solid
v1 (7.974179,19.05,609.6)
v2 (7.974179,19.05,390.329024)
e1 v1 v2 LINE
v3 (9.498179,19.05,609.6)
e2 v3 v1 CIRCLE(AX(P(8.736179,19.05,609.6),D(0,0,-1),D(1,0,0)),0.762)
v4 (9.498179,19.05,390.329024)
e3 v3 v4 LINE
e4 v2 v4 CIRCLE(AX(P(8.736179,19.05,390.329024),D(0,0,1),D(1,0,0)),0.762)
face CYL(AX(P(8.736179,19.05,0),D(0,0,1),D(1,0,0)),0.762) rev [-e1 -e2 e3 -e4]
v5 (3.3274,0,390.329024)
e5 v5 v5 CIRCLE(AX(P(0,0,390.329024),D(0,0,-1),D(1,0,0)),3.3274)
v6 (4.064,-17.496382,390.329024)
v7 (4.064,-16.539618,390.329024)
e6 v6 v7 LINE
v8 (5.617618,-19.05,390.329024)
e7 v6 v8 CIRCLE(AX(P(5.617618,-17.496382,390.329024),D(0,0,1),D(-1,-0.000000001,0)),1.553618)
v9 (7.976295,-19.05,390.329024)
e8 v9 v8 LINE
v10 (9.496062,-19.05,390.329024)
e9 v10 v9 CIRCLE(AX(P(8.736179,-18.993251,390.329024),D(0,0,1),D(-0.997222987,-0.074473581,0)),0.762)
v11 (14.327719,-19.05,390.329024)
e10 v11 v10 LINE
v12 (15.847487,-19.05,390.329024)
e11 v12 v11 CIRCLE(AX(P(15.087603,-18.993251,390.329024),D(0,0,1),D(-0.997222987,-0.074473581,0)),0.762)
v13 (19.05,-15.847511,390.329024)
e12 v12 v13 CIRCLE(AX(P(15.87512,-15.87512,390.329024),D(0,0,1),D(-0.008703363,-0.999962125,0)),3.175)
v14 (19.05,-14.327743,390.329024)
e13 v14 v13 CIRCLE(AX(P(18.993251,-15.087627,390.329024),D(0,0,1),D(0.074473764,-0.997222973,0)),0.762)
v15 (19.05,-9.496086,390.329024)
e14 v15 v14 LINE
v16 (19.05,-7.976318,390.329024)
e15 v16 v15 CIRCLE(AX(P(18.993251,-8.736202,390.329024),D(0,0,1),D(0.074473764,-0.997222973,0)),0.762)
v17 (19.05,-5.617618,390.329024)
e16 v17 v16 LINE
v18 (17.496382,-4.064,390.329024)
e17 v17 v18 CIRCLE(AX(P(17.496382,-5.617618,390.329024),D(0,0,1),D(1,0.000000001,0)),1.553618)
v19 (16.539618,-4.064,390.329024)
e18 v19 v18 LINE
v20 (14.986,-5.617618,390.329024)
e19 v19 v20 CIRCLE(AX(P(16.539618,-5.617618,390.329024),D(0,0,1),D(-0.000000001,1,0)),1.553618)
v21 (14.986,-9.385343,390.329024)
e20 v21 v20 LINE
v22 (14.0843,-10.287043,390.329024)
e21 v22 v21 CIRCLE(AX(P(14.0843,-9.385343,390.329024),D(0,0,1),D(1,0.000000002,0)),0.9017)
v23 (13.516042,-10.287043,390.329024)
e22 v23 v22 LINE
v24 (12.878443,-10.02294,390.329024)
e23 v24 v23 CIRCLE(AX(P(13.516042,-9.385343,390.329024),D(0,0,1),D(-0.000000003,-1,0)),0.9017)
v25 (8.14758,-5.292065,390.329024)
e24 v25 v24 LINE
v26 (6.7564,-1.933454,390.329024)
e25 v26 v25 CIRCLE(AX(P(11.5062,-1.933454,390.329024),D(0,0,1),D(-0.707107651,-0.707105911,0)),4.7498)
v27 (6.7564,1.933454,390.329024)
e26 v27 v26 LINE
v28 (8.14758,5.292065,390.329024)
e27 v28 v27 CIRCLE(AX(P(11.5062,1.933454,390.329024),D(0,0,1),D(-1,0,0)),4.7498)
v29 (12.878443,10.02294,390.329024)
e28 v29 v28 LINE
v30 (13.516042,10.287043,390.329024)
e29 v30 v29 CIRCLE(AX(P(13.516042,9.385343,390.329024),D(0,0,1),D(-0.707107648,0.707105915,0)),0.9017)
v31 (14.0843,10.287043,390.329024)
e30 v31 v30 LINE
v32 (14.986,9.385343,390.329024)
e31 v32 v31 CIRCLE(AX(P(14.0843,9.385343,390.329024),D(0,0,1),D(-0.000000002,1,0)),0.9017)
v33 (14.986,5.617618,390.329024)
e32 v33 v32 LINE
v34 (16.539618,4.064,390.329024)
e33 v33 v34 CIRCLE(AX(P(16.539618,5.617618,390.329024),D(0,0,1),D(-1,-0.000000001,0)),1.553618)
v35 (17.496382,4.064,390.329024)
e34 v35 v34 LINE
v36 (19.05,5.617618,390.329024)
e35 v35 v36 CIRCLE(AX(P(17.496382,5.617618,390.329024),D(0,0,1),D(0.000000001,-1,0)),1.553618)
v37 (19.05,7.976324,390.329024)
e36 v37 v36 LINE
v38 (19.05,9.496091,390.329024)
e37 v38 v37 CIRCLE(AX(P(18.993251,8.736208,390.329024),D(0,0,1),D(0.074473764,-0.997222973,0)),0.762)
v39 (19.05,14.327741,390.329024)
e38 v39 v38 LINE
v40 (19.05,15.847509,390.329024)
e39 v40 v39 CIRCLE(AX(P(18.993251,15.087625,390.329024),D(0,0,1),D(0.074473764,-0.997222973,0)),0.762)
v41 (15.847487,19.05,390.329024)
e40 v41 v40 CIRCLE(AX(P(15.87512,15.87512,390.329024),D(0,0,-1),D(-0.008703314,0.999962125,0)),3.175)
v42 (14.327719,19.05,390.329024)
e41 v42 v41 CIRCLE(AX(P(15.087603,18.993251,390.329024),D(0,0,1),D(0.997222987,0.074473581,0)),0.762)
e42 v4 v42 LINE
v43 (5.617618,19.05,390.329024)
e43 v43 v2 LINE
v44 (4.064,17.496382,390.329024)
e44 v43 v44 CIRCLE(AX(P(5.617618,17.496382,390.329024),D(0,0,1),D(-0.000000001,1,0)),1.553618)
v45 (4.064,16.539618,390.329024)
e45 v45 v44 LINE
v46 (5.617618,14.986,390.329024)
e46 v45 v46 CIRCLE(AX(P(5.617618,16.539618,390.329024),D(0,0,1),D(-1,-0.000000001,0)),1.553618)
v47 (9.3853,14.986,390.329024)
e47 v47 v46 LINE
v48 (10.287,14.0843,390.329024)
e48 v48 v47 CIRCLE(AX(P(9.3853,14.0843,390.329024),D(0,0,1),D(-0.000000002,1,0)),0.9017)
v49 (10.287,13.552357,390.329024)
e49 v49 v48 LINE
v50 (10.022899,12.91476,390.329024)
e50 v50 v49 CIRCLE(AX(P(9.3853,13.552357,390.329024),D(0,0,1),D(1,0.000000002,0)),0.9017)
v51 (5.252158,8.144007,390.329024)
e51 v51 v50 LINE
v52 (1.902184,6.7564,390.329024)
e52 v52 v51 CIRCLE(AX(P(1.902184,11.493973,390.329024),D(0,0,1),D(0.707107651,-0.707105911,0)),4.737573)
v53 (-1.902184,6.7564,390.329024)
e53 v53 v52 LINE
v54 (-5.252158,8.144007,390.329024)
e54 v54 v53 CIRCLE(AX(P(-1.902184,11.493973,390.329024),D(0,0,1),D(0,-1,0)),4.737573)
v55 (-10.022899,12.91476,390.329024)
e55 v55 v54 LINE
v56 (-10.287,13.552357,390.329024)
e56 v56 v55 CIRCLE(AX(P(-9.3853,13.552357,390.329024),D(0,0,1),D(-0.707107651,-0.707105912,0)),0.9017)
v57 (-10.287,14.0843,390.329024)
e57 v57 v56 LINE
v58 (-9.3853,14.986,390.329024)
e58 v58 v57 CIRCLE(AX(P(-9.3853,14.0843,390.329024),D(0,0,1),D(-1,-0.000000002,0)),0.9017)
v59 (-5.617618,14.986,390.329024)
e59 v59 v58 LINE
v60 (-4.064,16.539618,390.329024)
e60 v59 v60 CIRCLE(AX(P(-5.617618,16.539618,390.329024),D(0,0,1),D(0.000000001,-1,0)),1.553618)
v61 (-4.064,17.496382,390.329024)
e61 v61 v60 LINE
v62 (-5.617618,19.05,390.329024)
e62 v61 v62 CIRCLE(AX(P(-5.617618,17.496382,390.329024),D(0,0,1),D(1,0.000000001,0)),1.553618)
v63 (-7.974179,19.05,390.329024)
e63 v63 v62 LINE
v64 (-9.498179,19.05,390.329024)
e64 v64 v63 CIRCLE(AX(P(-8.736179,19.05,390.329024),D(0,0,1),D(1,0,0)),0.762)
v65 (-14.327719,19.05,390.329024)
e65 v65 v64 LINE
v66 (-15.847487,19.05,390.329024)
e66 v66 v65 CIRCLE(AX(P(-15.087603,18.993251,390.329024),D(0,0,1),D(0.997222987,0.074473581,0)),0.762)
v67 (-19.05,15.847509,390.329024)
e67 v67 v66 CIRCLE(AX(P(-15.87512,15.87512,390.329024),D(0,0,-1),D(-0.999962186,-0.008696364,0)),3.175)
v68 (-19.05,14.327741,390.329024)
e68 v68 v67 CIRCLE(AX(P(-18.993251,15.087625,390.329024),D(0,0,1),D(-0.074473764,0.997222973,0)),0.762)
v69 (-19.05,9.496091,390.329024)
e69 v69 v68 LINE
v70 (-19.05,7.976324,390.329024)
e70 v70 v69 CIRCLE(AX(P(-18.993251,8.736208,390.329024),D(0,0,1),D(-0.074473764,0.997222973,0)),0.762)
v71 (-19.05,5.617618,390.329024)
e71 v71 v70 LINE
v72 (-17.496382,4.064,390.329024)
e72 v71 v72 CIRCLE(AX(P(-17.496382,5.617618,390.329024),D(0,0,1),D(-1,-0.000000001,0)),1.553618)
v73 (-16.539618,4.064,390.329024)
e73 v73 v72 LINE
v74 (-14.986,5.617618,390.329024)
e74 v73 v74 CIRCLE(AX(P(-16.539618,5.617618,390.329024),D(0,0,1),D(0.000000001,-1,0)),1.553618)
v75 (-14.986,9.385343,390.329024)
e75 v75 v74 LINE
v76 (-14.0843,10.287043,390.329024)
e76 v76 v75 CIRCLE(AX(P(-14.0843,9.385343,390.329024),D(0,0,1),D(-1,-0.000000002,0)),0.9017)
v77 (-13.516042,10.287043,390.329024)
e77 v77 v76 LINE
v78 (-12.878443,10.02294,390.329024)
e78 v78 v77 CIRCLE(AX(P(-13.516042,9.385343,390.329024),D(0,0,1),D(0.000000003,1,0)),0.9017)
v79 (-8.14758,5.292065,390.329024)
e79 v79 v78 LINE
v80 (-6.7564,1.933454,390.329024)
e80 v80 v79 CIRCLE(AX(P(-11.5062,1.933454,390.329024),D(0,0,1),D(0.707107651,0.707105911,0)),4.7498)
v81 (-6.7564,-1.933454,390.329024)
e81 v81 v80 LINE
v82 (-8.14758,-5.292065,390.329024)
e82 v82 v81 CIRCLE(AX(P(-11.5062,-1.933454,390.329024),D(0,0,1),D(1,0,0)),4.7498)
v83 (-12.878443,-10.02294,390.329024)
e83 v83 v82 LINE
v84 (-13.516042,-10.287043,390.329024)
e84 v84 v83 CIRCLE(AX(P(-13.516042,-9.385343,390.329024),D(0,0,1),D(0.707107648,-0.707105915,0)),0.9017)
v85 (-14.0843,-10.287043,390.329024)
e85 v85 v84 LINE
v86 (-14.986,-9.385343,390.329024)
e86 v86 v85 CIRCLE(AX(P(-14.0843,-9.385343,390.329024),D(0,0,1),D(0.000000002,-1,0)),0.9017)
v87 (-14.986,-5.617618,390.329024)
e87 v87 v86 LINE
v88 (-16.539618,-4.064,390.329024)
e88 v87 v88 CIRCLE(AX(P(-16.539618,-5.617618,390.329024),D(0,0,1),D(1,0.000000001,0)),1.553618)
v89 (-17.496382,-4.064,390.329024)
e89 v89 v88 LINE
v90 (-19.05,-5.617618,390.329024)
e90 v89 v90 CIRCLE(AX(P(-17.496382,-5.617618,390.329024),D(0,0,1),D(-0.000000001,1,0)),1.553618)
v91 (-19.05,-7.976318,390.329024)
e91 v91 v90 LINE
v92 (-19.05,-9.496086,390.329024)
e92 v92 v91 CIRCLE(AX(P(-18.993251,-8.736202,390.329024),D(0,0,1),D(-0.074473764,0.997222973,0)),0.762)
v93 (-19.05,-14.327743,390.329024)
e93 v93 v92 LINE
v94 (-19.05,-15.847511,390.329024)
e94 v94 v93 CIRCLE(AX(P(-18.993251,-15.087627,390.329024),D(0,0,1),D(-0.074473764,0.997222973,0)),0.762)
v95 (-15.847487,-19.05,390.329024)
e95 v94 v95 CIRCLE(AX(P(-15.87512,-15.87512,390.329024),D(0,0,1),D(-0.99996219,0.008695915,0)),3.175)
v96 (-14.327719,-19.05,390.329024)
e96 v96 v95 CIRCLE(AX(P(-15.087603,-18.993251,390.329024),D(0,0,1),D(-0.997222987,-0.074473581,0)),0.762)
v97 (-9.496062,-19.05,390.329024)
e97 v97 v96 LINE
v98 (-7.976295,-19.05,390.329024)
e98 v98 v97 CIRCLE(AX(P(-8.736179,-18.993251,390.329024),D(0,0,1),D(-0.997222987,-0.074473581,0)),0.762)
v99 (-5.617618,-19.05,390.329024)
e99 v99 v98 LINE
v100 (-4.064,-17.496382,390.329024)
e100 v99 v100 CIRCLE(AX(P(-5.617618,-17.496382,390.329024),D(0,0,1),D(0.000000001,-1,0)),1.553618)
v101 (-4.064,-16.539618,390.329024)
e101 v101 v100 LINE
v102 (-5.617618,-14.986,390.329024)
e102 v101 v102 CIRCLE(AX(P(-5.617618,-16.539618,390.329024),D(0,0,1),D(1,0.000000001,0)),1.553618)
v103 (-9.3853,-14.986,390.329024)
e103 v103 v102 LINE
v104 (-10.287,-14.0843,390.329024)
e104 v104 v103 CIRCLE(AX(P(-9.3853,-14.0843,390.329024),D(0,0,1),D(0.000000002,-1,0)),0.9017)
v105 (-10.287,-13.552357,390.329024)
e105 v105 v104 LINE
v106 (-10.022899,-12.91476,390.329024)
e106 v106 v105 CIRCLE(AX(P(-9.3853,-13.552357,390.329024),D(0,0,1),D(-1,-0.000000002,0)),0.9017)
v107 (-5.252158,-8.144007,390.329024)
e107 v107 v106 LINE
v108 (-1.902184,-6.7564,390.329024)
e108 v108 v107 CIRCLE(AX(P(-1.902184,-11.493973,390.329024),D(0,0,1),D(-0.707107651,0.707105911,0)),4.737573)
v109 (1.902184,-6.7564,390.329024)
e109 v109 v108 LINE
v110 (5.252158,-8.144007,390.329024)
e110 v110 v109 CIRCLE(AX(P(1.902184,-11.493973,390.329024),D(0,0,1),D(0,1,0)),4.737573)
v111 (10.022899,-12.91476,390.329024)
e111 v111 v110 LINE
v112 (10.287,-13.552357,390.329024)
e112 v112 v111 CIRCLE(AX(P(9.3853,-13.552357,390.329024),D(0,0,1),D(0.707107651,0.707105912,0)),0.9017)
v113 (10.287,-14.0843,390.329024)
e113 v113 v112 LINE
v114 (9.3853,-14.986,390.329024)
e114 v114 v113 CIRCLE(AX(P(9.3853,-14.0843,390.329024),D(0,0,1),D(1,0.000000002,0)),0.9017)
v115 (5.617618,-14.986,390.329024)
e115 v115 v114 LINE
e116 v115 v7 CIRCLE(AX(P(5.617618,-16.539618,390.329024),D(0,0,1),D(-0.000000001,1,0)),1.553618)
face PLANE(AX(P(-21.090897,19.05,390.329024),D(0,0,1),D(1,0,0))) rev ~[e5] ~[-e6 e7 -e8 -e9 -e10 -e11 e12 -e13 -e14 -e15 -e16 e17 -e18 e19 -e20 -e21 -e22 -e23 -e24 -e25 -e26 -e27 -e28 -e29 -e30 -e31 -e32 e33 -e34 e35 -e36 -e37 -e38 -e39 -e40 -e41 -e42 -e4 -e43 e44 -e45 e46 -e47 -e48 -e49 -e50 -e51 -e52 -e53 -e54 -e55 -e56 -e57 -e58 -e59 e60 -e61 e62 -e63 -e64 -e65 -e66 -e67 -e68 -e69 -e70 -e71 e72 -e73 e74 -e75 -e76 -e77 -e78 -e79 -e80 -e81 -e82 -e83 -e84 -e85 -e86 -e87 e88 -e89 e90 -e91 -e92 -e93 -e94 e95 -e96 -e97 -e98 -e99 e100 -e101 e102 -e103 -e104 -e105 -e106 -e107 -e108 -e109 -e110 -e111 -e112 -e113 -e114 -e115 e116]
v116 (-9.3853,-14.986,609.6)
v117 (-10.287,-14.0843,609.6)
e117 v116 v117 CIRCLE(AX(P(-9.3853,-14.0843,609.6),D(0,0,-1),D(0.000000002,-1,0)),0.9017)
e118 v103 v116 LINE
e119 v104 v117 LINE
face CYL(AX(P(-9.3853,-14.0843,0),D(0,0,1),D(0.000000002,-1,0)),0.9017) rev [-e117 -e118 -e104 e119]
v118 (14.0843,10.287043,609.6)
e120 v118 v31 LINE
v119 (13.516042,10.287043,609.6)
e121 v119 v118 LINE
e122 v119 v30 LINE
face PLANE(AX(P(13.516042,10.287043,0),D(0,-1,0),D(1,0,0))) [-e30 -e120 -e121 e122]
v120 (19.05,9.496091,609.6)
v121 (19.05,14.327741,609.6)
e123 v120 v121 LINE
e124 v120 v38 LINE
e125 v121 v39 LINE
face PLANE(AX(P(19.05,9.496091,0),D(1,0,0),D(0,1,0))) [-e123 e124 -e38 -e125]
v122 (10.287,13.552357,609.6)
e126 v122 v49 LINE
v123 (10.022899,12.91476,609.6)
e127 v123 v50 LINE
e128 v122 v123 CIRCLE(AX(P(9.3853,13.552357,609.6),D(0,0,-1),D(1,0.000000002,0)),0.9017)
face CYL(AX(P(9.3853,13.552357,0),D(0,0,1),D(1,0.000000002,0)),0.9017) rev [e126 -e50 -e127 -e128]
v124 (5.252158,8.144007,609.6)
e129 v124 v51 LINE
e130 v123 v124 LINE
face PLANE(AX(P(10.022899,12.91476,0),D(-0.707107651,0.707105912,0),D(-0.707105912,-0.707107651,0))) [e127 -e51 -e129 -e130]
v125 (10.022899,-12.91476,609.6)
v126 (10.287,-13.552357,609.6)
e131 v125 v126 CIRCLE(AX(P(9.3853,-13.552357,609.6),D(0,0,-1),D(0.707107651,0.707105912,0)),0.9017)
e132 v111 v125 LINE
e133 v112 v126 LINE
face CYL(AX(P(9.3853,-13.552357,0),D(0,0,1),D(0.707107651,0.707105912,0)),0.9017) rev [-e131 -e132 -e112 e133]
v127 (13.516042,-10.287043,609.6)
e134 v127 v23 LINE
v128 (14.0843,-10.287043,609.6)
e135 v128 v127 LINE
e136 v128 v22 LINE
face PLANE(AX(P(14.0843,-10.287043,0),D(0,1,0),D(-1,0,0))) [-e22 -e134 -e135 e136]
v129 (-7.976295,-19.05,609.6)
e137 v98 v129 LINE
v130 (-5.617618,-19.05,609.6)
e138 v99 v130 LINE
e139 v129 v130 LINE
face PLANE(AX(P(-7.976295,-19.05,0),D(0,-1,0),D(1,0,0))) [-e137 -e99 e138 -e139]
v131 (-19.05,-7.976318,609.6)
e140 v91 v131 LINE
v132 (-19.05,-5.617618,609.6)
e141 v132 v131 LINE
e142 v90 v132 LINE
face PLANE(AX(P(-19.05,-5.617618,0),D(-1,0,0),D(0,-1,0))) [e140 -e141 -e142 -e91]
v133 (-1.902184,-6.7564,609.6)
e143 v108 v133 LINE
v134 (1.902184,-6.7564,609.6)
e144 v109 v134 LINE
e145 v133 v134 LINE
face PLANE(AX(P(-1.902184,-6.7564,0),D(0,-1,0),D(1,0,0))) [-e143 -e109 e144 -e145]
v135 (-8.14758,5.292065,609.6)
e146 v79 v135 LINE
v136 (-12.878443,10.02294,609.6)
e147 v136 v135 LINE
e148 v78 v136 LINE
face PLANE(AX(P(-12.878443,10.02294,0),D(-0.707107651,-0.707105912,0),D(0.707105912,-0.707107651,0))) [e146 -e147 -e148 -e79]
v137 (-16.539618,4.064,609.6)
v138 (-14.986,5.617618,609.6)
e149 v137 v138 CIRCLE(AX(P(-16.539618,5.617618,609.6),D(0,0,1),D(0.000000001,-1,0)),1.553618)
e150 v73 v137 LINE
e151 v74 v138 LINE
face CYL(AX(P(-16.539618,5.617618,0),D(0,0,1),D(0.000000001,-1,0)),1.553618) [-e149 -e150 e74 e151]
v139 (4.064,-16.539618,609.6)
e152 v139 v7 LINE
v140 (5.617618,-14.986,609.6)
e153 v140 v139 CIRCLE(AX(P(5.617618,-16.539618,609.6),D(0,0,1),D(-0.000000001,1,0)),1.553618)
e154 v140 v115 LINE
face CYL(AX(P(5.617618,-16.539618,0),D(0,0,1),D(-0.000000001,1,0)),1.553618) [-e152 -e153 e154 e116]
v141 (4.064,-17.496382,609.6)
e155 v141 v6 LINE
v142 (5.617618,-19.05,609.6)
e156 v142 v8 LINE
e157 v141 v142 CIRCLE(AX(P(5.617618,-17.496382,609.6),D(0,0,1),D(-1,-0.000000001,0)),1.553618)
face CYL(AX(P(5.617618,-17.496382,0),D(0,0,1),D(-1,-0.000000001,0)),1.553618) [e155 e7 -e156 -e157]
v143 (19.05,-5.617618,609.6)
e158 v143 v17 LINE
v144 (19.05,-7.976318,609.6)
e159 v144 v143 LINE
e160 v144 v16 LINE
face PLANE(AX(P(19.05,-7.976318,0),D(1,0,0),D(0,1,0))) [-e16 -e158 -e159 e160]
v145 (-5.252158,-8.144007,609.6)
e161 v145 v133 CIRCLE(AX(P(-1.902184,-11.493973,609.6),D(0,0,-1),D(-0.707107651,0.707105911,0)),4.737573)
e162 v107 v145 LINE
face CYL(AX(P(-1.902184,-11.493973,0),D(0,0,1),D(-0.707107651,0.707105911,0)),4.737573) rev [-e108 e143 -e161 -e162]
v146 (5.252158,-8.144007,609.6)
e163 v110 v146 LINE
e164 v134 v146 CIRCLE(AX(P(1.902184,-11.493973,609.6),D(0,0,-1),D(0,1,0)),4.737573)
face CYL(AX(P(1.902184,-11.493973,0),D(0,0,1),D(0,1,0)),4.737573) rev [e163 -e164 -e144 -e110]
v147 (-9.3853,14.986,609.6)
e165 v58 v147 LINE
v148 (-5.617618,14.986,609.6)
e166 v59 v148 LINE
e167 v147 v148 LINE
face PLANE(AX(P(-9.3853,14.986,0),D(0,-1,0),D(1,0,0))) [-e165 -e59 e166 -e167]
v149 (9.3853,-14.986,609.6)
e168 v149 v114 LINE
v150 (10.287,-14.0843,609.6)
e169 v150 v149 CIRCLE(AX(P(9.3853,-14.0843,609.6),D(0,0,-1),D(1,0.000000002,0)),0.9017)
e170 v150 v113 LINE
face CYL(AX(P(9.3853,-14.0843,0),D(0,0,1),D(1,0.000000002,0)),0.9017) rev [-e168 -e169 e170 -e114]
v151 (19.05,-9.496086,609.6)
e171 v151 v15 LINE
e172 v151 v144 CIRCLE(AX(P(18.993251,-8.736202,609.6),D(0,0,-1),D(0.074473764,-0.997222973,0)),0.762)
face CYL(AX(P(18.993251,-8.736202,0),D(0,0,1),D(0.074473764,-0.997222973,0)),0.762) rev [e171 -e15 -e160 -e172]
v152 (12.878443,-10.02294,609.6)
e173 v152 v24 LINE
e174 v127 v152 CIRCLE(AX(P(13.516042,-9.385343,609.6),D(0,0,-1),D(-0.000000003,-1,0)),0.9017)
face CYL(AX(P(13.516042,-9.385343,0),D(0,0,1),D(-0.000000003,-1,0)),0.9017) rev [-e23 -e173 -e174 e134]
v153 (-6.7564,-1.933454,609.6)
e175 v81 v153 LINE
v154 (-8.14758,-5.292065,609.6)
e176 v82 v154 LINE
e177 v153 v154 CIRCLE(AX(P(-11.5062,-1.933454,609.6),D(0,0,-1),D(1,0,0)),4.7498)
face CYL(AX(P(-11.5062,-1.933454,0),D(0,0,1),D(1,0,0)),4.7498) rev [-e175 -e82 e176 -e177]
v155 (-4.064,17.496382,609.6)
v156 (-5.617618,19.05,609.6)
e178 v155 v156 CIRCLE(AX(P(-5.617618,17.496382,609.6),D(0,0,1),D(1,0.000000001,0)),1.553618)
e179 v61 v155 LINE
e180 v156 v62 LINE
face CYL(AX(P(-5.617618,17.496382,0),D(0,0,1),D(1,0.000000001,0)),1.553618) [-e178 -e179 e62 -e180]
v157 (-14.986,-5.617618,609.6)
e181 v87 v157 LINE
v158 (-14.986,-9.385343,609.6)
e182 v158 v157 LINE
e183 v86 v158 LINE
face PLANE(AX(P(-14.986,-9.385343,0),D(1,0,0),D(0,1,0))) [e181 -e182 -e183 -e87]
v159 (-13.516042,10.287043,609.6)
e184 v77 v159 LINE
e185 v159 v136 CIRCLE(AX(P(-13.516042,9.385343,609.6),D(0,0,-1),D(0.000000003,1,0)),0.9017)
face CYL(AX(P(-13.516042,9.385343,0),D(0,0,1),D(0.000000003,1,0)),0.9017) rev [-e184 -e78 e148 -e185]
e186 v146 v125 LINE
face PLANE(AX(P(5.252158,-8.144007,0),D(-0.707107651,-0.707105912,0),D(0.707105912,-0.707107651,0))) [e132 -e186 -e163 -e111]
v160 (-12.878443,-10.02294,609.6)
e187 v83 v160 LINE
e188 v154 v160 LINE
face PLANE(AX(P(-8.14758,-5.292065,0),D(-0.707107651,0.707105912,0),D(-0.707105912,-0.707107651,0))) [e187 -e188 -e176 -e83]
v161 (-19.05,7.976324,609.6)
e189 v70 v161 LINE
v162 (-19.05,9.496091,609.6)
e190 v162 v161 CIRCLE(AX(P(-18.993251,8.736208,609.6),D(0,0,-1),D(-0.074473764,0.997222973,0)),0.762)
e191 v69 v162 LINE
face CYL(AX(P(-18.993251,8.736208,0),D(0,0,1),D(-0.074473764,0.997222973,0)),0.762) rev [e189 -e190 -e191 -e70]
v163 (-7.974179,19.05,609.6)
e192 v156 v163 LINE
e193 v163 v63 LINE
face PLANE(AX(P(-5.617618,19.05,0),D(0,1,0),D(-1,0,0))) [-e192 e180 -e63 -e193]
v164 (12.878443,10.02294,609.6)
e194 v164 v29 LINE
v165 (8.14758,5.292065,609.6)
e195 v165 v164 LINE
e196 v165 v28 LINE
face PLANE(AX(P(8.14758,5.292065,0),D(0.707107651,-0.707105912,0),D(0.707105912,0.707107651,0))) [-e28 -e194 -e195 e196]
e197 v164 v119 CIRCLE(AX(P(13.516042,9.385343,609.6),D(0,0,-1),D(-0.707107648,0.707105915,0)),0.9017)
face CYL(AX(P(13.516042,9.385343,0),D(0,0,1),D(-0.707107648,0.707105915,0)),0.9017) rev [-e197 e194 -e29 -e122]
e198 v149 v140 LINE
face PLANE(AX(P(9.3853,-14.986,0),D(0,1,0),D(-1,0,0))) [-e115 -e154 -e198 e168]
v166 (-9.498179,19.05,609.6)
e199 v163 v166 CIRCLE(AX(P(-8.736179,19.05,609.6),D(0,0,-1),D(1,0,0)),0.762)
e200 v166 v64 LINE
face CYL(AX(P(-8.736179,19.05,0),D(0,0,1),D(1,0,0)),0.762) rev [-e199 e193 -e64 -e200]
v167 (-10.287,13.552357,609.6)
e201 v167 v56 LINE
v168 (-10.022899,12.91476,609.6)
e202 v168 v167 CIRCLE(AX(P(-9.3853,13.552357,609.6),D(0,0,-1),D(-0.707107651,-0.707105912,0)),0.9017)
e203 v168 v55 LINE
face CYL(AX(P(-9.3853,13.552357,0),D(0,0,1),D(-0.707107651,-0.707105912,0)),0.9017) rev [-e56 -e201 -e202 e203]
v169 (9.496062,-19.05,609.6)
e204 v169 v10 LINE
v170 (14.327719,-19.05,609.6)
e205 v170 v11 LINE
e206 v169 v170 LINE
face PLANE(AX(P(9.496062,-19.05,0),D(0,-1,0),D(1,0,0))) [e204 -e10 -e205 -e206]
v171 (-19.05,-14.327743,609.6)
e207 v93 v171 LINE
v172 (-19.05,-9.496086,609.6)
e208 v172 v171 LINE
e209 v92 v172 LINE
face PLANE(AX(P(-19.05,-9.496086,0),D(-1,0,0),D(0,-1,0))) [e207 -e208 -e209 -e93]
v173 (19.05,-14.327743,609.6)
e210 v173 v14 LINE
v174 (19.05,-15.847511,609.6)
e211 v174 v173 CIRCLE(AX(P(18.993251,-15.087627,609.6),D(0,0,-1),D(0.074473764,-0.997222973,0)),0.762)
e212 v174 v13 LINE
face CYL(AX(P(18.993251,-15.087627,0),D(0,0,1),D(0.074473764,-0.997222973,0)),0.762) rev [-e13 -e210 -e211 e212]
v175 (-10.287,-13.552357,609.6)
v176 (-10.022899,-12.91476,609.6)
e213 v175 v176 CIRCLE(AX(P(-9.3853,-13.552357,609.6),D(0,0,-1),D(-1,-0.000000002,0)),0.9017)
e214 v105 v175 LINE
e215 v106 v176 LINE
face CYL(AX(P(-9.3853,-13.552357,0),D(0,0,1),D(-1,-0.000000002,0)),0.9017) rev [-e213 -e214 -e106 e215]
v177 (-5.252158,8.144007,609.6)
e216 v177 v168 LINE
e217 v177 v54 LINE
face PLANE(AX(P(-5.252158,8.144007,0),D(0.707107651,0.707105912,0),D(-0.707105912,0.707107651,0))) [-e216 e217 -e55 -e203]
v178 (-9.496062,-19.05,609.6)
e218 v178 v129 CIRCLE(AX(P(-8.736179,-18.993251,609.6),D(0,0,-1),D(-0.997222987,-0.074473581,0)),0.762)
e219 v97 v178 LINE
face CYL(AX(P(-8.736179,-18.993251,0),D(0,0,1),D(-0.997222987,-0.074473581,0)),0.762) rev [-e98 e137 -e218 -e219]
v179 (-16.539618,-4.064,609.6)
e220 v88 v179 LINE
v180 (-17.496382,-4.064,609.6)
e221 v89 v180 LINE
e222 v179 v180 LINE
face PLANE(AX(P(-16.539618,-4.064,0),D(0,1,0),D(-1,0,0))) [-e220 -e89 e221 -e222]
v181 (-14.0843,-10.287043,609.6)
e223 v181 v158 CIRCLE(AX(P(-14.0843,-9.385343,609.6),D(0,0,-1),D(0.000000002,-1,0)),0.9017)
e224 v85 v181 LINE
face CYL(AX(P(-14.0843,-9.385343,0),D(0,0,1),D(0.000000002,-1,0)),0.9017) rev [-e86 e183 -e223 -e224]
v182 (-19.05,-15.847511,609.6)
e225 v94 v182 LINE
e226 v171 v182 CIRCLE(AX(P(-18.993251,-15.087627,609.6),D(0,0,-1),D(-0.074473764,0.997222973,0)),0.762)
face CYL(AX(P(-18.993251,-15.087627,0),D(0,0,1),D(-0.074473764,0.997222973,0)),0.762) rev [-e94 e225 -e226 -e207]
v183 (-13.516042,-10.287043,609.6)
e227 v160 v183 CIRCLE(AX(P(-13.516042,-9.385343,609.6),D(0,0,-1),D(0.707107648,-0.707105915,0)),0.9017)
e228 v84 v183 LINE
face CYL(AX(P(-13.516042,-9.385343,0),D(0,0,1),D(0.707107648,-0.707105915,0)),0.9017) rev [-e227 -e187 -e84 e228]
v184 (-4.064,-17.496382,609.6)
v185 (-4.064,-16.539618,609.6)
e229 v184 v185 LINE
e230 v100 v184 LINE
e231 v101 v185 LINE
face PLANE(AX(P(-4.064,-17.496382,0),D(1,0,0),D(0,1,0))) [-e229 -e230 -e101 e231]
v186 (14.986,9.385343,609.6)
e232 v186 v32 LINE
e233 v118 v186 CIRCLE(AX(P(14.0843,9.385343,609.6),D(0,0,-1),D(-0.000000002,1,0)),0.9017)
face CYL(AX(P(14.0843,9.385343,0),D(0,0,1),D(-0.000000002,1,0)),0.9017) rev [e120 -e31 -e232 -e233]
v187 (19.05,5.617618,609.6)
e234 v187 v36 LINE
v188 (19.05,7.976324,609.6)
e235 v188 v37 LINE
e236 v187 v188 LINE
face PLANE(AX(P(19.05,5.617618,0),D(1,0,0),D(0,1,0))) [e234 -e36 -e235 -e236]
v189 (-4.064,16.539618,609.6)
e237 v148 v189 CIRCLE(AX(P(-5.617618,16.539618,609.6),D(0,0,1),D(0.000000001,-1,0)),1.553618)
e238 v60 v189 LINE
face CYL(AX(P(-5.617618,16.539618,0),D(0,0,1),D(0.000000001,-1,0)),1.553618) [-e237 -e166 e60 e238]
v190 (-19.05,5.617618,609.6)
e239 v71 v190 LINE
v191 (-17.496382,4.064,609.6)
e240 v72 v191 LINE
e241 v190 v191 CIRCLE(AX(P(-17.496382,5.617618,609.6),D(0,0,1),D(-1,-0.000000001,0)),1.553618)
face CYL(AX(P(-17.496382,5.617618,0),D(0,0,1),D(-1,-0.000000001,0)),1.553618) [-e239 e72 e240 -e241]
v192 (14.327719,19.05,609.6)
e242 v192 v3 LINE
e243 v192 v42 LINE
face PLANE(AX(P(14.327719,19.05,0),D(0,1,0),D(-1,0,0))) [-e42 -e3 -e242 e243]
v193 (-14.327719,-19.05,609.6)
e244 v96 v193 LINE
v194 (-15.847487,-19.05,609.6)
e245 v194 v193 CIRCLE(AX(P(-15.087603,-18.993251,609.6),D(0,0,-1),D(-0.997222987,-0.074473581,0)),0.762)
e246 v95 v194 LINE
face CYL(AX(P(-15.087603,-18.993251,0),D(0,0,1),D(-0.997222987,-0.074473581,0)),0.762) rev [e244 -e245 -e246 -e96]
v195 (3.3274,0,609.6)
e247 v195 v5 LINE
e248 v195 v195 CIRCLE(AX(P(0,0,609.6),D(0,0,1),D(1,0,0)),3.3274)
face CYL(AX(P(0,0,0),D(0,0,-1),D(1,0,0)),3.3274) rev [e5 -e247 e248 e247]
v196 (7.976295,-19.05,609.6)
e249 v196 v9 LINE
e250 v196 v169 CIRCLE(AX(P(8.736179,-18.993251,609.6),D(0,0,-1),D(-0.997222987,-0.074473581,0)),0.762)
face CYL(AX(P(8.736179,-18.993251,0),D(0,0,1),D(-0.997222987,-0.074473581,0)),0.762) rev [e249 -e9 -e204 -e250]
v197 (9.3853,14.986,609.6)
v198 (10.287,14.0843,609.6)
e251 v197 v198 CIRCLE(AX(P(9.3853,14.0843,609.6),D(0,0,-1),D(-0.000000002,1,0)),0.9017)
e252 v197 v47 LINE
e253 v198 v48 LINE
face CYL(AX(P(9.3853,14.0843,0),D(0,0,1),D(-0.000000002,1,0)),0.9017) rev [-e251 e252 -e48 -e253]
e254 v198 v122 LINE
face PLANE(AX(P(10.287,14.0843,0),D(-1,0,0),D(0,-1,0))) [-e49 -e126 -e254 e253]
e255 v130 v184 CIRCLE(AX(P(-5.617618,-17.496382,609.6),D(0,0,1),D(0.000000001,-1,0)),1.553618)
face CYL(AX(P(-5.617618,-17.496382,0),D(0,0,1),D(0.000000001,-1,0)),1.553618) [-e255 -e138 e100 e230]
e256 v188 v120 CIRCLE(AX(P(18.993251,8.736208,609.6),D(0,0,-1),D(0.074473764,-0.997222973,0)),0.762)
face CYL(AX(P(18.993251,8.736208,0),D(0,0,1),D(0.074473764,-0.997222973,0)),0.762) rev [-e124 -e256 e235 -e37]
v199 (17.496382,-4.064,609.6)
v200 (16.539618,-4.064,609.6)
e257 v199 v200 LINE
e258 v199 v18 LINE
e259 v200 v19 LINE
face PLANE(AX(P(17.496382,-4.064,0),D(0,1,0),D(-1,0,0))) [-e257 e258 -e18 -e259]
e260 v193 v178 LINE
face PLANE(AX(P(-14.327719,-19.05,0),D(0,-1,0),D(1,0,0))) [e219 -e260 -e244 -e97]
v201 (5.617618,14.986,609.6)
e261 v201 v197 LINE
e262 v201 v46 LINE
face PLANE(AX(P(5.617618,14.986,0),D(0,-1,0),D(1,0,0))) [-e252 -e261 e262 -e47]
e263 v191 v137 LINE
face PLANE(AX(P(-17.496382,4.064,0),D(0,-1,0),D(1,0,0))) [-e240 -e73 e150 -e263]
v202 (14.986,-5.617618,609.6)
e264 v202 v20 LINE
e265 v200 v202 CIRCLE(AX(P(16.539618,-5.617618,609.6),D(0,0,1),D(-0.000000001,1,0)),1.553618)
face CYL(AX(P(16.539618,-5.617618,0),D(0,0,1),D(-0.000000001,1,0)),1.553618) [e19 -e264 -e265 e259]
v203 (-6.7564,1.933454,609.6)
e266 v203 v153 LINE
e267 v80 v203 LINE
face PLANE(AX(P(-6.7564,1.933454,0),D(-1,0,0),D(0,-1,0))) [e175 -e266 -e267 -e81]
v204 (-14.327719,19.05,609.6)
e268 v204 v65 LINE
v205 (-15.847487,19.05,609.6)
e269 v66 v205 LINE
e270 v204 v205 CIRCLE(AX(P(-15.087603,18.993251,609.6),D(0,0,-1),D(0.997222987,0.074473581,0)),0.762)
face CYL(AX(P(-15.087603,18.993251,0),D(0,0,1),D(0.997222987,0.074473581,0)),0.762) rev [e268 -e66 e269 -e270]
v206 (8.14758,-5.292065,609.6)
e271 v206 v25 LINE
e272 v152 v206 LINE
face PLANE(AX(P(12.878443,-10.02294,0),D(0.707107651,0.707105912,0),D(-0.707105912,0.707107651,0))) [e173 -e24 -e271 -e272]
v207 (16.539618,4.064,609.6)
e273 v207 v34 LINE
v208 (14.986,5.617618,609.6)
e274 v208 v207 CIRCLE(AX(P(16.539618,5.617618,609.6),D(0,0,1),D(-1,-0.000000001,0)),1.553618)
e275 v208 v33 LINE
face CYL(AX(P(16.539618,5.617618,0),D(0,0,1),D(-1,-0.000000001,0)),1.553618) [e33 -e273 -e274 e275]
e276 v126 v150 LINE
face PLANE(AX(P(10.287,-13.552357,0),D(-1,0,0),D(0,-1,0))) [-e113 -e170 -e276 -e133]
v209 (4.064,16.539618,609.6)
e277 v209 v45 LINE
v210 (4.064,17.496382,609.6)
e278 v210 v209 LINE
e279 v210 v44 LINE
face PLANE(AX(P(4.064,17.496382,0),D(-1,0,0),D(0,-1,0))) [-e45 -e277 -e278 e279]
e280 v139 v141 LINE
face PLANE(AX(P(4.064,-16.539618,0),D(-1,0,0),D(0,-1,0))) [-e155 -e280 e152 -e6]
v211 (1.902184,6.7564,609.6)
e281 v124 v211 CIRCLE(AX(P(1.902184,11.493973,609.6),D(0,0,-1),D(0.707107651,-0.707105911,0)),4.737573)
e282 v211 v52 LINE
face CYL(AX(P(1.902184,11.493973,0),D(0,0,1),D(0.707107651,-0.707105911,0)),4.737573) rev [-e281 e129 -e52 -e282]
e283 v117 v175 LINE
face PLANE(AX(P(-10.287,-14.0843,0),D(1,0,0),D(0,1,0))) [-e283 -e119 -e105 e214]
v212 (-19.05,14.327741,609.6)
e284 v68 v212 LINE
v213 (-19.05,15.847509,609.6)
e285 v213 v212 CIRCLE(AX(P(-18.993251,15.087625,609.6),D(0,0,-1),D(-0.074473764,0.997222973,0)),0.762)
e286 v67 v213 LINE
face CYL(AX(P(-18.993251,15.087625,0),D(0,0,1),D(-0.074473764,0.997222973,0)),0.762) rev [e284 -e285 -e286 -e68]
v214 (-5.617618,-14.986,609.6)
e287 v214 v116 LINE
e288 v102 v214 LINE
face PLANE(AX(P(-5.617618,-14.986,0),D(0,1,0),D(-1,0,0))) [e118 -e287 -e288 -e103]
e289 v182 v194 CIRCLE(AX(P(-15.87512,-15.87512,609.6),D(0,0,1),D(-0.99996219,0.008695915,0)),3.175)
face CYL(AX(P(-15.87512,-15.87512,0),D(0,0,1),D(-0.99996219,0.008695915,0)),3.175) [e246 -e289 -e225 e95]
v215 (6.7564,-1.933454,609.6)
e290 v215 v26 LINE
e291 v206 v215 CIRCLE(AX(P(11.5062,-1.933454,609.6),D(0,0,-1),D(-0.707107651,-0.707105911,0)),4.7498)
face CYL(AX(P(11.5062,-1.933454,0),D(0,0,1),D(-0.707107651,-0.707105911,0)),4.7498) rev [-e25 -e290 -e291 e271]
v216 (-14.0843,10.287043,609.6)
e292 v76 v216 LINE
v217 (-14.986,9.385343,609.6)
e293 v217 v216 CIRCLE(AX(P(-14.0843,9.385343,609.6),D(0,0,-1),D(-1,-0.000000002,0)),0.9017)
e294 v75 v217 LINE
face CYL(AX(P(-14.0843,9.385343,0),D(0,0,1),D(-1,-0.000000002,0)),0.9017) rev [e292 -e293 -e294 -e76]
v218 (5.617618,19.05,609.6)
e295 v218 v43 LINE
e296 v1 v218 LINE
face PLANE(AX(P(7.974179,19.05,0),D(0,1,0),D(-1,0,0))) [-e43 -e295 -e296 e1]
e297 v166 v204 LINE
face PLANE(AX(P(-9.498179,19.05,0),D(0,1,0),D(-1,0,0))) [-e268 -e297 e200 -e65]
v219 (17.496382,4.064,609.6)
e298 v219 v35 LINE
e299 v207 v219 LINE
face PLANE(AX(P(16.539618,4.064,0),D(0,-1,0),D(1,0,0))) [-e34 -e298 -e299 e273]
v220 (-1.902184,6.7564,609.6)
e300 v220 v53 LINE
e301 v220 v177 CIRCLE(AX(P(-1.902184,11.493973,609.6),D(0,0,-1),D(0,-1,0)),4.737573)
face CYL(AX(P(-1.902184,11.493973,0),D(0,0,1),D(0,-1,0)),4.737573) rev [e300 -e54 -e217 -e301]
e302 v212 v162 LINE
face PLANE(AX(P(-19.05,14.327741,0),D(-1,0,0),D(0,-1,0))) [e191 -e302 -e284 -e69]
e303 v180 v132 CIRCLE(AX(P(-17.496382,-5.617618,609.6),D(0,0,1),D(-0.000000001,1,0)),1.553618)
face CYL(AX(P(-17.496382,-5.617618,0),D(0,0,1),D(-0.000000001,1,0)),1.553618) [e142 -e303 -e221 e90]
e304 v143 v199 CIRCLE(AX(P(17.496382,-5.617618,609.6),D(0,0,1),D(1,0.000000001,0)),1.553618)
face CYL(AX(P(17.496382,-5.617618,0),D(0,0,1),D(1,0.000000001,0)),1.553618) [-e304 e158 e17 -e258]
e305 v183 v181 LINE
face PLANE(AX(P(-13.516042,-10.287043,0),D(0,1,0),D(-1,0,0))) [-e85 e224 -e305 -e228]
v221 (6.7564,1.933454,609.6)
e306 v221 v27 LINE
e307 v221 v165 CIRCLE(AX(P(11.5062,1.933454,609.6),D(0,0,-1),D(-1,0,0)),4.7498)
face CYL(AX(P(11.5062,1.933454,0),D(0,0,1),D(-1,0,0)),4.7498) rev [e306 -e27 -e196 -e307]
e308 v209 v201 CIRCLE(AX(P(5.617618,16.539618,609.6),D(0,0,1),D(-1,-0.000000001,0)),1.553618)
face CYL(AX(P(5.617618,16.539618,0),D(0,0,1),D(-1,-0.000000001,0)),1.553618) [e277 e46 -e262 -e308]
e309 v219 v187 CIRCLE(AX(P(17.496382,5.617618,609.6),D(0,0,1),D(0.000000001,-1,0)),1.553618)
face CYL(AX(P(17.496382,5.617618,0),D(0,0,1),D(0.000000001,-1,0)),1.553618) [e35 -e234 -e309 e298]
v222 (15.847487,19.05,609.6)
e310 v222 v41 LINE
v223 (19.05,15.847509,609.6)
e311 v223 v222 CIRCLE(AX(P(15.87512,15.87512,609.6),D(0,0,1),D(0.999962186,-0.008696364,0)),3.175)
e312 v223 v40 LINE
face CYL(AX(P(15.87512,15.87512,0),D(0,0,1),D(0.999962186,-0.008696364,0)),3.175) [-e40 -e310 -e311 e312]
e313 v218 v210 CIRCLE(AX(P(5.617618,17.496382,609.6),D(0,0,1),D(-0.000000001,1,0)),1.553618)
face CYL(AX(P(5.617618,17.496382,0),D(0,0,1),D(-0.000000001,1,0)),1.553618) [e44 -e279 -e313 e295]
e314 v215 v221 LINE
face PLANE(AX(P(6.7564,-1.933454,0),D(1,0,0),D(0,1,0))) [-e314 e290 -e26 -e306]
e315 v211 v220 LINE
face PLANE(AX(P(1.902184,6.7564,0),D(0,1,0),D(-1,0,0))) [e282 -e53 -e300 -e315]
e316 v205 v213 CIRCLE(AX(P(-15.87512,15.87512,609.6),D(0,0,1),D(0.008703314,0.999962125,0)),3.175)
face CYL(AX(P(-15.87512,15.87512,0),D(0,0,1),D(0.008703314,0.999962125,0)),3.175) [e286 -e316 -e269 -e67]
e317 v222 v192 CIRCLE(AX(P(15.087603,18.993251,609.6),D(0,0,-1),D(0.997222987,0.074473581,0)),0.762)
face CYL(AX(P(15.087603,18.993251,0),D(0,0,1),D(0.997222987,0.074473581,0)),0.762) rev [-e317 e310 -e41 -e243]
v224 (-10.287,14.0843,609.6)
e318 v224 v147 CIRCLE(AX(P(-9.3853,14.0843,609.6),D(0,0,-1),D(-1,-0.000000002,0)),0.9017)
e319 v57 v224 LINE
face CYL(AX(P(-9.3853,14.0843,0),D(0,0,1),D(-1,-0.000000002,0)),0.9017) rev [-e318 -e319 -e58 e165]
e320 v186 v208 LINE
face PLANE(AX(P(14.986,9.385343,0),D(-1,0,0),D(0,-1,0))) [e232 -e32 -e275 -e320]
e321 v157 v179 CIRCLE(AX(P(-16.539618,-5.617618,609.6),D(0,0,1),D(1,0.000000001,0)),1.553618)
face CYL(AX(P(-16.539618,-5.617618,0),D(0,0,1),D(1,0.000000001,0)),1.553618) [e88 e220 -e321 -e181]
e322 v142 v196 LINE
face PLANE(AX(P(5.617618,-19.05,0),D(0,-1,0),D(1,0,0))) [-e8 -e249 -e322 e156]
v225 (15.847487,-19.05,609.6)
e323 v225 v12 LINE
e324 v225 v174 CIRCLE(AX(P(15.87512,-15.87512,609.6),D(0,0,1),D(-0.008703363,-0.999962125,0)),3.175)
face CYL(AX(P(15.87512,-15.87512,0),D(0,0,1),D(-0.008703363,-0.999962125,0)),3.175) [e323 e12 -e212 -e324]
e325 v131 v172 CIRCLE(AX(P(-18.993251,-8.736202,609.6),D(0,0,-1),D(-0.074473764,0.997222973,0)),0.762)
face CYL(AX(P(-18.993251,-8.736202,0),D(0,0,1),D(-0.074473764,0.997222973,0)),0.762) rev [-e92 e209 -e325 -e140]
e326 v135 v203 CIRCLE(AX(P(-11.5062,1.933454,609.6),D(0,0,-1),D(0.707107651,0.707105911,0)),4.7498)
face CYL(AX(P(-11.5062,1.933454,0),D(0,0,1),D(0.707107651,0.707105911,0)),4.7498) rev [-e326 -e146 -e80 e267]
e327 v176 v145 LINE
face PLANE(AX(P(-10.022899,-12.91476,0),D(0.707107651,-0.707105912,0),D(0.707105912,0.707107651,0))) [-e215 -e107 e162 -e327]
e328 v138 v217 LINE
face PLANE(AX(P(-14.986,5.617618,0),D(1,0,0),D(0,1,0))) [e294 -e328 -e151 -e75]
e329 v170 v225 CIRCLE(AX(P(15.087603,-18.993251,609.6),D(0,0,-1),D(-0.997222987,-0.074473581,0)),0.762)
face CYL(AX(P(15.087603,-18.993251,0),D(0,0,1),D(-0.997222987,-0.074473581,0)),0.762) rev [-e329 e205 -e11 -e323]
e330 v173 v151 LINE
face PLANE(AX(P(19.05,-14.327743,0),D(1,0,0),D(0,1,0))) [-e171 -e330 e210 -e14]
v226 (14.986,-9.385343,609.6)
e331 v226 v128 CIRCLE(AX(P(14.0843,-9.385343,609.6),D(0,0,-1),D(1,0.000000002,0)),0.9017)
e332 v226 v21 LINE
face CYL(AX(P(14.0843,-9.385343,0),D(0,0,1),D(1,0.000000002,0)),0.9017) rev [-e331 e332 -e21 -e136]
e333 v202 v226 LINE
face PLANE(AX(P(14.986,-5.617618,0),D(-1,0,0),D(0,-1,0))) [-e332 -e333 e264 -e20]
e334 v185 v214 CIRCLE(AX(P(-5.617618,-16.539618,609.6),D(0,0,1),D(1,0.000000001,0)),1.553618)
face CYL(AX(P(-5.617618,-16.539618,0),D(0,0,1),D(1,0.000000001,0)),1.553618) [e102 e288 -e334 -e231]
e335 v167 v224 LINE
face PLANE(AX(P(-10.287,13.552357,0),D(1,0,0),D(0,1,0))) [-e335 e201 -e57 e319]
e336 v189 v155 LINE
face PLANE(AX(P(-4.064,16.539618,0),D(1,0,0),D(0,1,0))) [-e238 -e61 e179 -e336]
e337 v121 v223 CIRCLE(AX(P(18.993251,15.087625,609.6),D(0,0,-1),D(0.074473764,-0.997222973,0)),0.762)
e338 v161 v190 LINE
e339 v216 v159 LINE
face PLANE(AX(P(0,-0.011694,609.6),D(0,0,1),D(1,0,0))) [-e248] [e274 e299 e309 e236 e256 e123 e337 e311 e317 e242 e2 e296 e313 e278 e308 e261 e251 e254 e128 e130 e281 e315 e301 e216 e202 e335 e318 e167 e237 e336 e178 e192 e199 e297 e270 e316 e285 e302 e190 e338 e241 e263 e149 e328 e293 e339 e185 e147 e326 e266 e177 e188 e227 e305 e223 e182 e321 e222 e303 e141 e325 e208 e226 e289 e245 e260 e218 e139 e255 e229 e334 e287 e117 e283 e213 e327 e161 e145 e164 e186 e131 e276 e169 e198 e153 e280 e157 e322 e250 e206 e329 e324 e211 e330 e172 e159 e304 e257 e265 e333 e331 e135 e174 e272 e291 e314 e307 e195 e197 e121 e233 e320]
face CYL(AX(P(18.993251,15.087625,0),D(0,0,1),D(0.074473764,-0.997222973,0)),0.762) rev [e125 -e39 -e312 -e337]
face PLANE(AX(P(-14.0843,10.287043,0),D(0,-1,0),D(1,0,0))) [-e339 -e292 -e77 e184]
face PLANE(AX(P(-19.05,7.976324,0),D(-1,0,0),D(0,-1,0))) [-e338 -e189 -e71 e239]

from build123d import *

# Parameters (mm, degrees)
SKETCH1_R               = 3.3274
BOSS_EXTRUDE1_DEPTH     = 609.6
SKETCH2_W               = 42.839593621
SKETCH2_H               = 1002.279512573
CUT_EXTRUDE1_DEPTH      = 5.334
CUT_EXTRUDE1_DEPTH_BACK = 41.148


with BuildPart() as part:
    # Sketch1 → Boss-Extrude1 (new body, symmetric)
    with BuildSketch(Plane.XY):
        with BuildLine():
            Line((-10.287, 13.552357131), (-10.287, 14.0843))
            ThreePointArc((-10.287, 14.0843), (-10.022898185, 14.721898185), (-9.3853, 14.986))
            Line((-9.3853, 14.986), (-5.617617549, 14.986))
            ThreePointArc((-5.617617549, 14.986), (-4.519044045, 15.441044045), (-4.064, 16.539617549))
            Line((-4.064, 16.539617549), (-4.064, 17.496382451))
            ThreePointArc((-4.064, 17.496382451), (-4.519044045, 18.594955955), (-5.617617549, 19.05))
            Line((-5.617617549, 19.05), (-7.974178704, 19.05))
            ThreePointArc((-7.974178704, 19.05), (-8.736178704, 18.288), (-9.498178704, 19.05))
            Line((-9.498178704, 19.05), (-14.327719207, 19.05))
            ThreePointArc((-14.327719207, 19.05), (-15.087603123, 18.231251131), (-15.847487039, 19.05))
            ThreePointArc((-15.847487039, 19.05), (-18.120176289, 18.120192083), (-19.05, 15.847509295))
            ThreePointArc((-19.05, 15.847509295), (-18.231250992, 15.08762539), (-19.05, 14.327741484))
            Line((-19.05, 14.327741484), (-19.05, 9.496091471))
            ThreePointArc((-19.05, 9.496091471), (-18.231250992, 8.736207565), (-19.05, 7.97632366))
            Line((-19.05, 7.97632366), (-19.05, 5.617617549))
            ThreePointArc((-19.05, 5.617617549), (-18.594955955, 4.519044045), (-17.496382451, 4.064))
            Line((-17.496382451, 4.064), (-16.539617549, 4.064))
            ThreePointArc((-16.539617549, 4.064), (-15.441044045, 4.519044045), (-14.986, 5.617617549))
            Line((-14.986, 5.617617549), (-14.986, 9.385342516))
            ThreePointArc((-14.986, 9.385342516), (-14.721898185, 10.022940701), (-14.0843, 10.287042516))
            Line((-14.0843, 10.287042516), (-13.516042086, 10.287042516))
            ThreePointArc((-13.516042086, 10.287042516), (-13.170975923, 10.218404478), (-12.878443117, 10.022939917))
            Line((-12.878443117, 10.022939917), (-8.14758008, 5.292065243))
            ThreePointArc((-8.14758008, 5.292065243), (-7.117955879, 3.751120653), (-6.7564, 1.933453584))
            Line((-6.7564, 1.933453584), (-6.7564, -1.933453584))
            ThreePointArc((-6.7564, -1.933453584), (-7.117955879, -3.751120653), (-8.14758008, -5.292065243))
            Line((-8.14758008, -5.292065243), (-12.878443117, -10.022939917))
            ThreePointArc((-12.878443117, -10.022939917), (-13.170975923, -10.218404478), (-13.516042086, -10.287042516))
            Line((-13.516042086, -10.287042516), (-14.0843, -10.287042516))
            ThreePointArc((-14.0843, -10.287042516), (-14.721898185, -10.022940701), (-14.986, -9.385342516))
            Line((-14.986, -9.385342516), (-14.986, -5.617617549))
            ThreePointArc((-14.986, -5.617617549), (-15.441044045, -4.519044045), (-16.539617549, -4.064))
            Line((-16.539617549, -4.064), (-17.496382451, -4.064))
            ThreePointArc((-17.496382451, -4.064), (-18.594955955, -4.519044045), (-19.05, -5.617617549))
            Line((-19.05, -5.617617549), (-19.05, -7.976318491))
            ThreePointArc((-19.05, -7.976318491), (-18.231250992, -8.736202396), (-19.05, -9.496086302))
            Line((-19.05, -9.496086302), (-19.05, -14.32774291))
            ThreePointArc((-19.05, -14.32774291), (-18.231250992, -15.087626816), (-19.05, -15.847510721))
            ThreePointArc((-19.05, -15.847510721), (-18.120175716, -18.120192644), (-15.847486868, -19.05))
            ThreePointArc((-15.847486868, -19.05), (-15.087602952, -18.231251131), (-14.327719036, -19.05))
            Line((-14.327719036, -19.05), (-9.496062448, -19.05))
            ThreePointArc((-9.496062448, -19.05), (-8.736178532, -18.231251131), (-7.976294616, -19.05))
            Line((-7.976294616, -19.05), (-5.617617549, -19.05))
            ThreePointArc((-5.617617549, -19.05), (-4.519044045, -18.594955955), (-4.064, -17.496382451))
            Line((-4.064, -17.496382451), (-4.064, -16.539617549))
            ThreePointArc((-4.064, -16.539617549), (-4.519044045, -15.441044045), (-5.617617549, -14.986))
            Line((-5.617617549, -14.986), (-9.3853, -14.986))
            ThreePointArc((-9.3853, -14.986), (-10.022898185, -14.721898185), (-10.287, -14.0843))
            Line((-10.287, -14.0843), (-10.287, -13.552357131))
            ThreePointArc((-10.287, -13.552357131), (-10.218362387, -13.207291992), (-10.022898969, -12.91475973))
            Line((-10.022898969, -12.91475973), (-5.252158105, -8.144007132))
            ThreePointArc((-5.252158105, -8.144007132), (-3.715177372, -7.117027388), (-1.902183975, -6.7564))
            Line((-1.902183975, -6.7564), (1.902183975, -6.7564))
            ThreePointArc((1.902183975, -6.7564), (3.715177372, -7.117027388), (5.252158105, -8.144007132))
            Line((5.252158105, -8.144007132), (10.022898969, -12.91475973))
            ThreePointArc((10.022898969, -12.91475973), (10.218362387, -13.207291992), (10.287, -13.552357131))
            Line((10.287, -13.552357131), (10.287, -14.0843))
            ThreePointArc((10.287, -14.0843), (10.022898185, -14.721898185), (9.3853, -14.986))
            Line((9.3853, -14.986), (5.617617549, -14.986))
            ThreePointArc((5.617617549, -14.986), (4.519044045, -15.441044045), (4.064, -16.539617549))
            Line((4.064, -16.539617549), (4.064, -17.496382451))
            ThreePointArc((4.064, -17.496382451), (4.519044045, -18.594955955), (5.617617549, -19.05))
            Line((5.617617549, -19.05), (7.976294616, -19.05))
            ThreePointArc((7.976294616, -19.05), (8.736178532, -18.231251131), (9.496062448, -19.05))
            Line((9.496062448, -19.05), (14.327719036, -19.05))
            ThreePointArc((14.327719036, -19.05), (15.087602952, -18.231251131), (15.847486868, -19.05))
            ThreePointArc((15.847486868, -19.05), (18.120175716, -18.120192644), (19.05, -15.847510721))
            ThreePointArc((19.05, -15.847510721), (18.231250992, -15.087626816), (19.05, -14.32774291))
            Line((19.05, -14.32774291), (19.05, -9.496086302))
            ThreePointArc((19.05, -9.496086302), (18.231250992, -8.736202396), (19.05, -7.976318491))
            Line((19.05, -7.976318491), (19.05, -5.617617549))
            ThreePointArc((19.05, -5.617617549), (18.594955955, -4.519044045), (17.496382451, -4.064))
            Line((17.496382451, -4.064), (16.539617549, -4.064))
            ThreePointArc((16.539617549, -4.064), (15.441044045, -4.519044045), (14.986, -5.617617549))
            Line((14.986, -5.617617549), (14.986, -9.385342516))
            ThreePointArc((14.986, -9.385342516), (14.721898185, -10.022940701), (14.0843, -10.287042516))
            Line((14.0843, -10.287042516), (13.516042086, -10.287042516))
            ThreePointArc((13.516042086, -10.287042516), (13.170975923, -10.218404478), (12.878443117, -10.022939917))
            Line((12.878443117, -10.022939917), (8.14758008, -5.292065243))
            ThreePointArc((8.14758008, -5.292065243), (7.117955879, -3.751120653), (6.7564, -1.933453584))
            Line((6.7564, -1.933453584), (6.7564, 1.933453584))
            ThreePointArc((6.7564, 1.933453584), (7.117955879, 3.751120653), (8.14758008, 5.292065243))
            Line((8.14758008, 5.292065243), (12.878443117, 10.022939917))
            ThreePointArc((12.878443117, 10.022939917), (13.170975923, 10.218404478), (13.516042086, 10.287042516))
            Line((13.516042086, 10.287042516), (14.0843, 10.287042516))
            ThreePointArc((14.0843, 10.287042516), (14.721898185, 10.022940701), (14.986, 9.385342516))
            Line((14.986, 9.385342516), (14.986, 5.617617549))
            ThreePointArc((14.986, 5.617617549), (15.441044045, 4.519044045), (16.539617549, 4.064))
            Line((16.539617549, 4.064), (17.496382451, 4.064))
            ThreePointArc((17.496382451, 4.064), (18.594955955, 4.519044045), (19.05, 5.617617549))
            Line((19.05, 5.617617549), (19.05, 7.97632366))
            ThreePointArc((19.05, 7.97632366), (18.231250992, 8.736207565), (19.05, 9.496091471))
            Line((19.05, 9.496091471), (19.05, 14.327741484))
            ThreePointArc((19.05, 14.327741484), (18.231250992, 15.08762539), (19.05, 15.847509295))
            ThreePointArc((19.05, 15.847509295), (18.120176289, 18.120192083), (15.847487039, 19.05))
            ThreePointArc((15.847487039, 19.05), (15.087603123, 18.231251131), (14.327719207, 19.05))
            Line((14.327719207, 19.05), (9.498178704, 19.05))
            ThreePointArc((9.498178704, 19.05), (8.736178704, 18.288), (7.974178704, 19.05))
            Line((7.974178704, 19.05), (5.617617549, 19.05))
            ThreePointArc((5.617617549, 19.05), (4.519044045, 18.594955955), (4.064, 17.496382451))
            Line((4.064, 17.496382451), (4.064, 16.539617549))
            ThreePointArc((4.064, 16.539617549), (4.519044045, 15.441044045), (5.617617549, 14.986))
            Line((5.617617549, 14.986), (9.3853, 14.986))
            ThreePointArc((9.3853, 14.986), (10.022898185, 14.721898185), (10.287, 14.0843))
            Line((10.287, 14.0843), (10.287, 13.552357131))
            ThreePointArc((10.287, 13.552357131), (10.218362387, 13.207291992), (10.022898969, 12.91475973))
            Line((10.022898969, 12.91475973), (5.252158105, 8.144007132))
            ThreePointArc((5.252158105, 8.144007132), (3.715177372, 7.117027388), (1.902183975, 6.7564))
            Line((1.902183975, 6.7564), (-1.902183975, 6.7564))
            ThreePointArc((-1.902183975, 6.7564), (-3.715177372, 7.117027388), (-5.252158105, 8.144007132))
            Line((-5.252158105, 8.144007132), (-10.022898969, 12.91475973))
            ThreePointArc((-10.022898969, 12.91475973), (-10.218362387, 13.207291992), (-10.287, 13.552357131))
        make_face()
        Circle(SKETCH1_R, mode=Mode.SUBTRACT)
    extrude(amount=BOSS_EXTRUDE1_DEPTH, both=True)

    # Sketch2 → Cut-Extrude1 (cut, two sides)
    with BuildSketch(Plane(origin=(0, 19.05, 0), x_dir=(1, 0, 0), z_dir=(0, 1, 0))) as cut_extrude1_sk:
        with Locations((0.328899923, 110.810732084)):
            Rectangle(SKETCH2_W, SKETCH2_H)
    extrude(amount=CUT_EXTRUDE1_DEPTH, mode=Mode.SUBTRACT)
    extrude(cut_extrude1_sk.sketch, amount=-CUT_EXTRUDE1_DEPTH_BACK, mode=Mode.SUBTRACT)


solid = part.part
